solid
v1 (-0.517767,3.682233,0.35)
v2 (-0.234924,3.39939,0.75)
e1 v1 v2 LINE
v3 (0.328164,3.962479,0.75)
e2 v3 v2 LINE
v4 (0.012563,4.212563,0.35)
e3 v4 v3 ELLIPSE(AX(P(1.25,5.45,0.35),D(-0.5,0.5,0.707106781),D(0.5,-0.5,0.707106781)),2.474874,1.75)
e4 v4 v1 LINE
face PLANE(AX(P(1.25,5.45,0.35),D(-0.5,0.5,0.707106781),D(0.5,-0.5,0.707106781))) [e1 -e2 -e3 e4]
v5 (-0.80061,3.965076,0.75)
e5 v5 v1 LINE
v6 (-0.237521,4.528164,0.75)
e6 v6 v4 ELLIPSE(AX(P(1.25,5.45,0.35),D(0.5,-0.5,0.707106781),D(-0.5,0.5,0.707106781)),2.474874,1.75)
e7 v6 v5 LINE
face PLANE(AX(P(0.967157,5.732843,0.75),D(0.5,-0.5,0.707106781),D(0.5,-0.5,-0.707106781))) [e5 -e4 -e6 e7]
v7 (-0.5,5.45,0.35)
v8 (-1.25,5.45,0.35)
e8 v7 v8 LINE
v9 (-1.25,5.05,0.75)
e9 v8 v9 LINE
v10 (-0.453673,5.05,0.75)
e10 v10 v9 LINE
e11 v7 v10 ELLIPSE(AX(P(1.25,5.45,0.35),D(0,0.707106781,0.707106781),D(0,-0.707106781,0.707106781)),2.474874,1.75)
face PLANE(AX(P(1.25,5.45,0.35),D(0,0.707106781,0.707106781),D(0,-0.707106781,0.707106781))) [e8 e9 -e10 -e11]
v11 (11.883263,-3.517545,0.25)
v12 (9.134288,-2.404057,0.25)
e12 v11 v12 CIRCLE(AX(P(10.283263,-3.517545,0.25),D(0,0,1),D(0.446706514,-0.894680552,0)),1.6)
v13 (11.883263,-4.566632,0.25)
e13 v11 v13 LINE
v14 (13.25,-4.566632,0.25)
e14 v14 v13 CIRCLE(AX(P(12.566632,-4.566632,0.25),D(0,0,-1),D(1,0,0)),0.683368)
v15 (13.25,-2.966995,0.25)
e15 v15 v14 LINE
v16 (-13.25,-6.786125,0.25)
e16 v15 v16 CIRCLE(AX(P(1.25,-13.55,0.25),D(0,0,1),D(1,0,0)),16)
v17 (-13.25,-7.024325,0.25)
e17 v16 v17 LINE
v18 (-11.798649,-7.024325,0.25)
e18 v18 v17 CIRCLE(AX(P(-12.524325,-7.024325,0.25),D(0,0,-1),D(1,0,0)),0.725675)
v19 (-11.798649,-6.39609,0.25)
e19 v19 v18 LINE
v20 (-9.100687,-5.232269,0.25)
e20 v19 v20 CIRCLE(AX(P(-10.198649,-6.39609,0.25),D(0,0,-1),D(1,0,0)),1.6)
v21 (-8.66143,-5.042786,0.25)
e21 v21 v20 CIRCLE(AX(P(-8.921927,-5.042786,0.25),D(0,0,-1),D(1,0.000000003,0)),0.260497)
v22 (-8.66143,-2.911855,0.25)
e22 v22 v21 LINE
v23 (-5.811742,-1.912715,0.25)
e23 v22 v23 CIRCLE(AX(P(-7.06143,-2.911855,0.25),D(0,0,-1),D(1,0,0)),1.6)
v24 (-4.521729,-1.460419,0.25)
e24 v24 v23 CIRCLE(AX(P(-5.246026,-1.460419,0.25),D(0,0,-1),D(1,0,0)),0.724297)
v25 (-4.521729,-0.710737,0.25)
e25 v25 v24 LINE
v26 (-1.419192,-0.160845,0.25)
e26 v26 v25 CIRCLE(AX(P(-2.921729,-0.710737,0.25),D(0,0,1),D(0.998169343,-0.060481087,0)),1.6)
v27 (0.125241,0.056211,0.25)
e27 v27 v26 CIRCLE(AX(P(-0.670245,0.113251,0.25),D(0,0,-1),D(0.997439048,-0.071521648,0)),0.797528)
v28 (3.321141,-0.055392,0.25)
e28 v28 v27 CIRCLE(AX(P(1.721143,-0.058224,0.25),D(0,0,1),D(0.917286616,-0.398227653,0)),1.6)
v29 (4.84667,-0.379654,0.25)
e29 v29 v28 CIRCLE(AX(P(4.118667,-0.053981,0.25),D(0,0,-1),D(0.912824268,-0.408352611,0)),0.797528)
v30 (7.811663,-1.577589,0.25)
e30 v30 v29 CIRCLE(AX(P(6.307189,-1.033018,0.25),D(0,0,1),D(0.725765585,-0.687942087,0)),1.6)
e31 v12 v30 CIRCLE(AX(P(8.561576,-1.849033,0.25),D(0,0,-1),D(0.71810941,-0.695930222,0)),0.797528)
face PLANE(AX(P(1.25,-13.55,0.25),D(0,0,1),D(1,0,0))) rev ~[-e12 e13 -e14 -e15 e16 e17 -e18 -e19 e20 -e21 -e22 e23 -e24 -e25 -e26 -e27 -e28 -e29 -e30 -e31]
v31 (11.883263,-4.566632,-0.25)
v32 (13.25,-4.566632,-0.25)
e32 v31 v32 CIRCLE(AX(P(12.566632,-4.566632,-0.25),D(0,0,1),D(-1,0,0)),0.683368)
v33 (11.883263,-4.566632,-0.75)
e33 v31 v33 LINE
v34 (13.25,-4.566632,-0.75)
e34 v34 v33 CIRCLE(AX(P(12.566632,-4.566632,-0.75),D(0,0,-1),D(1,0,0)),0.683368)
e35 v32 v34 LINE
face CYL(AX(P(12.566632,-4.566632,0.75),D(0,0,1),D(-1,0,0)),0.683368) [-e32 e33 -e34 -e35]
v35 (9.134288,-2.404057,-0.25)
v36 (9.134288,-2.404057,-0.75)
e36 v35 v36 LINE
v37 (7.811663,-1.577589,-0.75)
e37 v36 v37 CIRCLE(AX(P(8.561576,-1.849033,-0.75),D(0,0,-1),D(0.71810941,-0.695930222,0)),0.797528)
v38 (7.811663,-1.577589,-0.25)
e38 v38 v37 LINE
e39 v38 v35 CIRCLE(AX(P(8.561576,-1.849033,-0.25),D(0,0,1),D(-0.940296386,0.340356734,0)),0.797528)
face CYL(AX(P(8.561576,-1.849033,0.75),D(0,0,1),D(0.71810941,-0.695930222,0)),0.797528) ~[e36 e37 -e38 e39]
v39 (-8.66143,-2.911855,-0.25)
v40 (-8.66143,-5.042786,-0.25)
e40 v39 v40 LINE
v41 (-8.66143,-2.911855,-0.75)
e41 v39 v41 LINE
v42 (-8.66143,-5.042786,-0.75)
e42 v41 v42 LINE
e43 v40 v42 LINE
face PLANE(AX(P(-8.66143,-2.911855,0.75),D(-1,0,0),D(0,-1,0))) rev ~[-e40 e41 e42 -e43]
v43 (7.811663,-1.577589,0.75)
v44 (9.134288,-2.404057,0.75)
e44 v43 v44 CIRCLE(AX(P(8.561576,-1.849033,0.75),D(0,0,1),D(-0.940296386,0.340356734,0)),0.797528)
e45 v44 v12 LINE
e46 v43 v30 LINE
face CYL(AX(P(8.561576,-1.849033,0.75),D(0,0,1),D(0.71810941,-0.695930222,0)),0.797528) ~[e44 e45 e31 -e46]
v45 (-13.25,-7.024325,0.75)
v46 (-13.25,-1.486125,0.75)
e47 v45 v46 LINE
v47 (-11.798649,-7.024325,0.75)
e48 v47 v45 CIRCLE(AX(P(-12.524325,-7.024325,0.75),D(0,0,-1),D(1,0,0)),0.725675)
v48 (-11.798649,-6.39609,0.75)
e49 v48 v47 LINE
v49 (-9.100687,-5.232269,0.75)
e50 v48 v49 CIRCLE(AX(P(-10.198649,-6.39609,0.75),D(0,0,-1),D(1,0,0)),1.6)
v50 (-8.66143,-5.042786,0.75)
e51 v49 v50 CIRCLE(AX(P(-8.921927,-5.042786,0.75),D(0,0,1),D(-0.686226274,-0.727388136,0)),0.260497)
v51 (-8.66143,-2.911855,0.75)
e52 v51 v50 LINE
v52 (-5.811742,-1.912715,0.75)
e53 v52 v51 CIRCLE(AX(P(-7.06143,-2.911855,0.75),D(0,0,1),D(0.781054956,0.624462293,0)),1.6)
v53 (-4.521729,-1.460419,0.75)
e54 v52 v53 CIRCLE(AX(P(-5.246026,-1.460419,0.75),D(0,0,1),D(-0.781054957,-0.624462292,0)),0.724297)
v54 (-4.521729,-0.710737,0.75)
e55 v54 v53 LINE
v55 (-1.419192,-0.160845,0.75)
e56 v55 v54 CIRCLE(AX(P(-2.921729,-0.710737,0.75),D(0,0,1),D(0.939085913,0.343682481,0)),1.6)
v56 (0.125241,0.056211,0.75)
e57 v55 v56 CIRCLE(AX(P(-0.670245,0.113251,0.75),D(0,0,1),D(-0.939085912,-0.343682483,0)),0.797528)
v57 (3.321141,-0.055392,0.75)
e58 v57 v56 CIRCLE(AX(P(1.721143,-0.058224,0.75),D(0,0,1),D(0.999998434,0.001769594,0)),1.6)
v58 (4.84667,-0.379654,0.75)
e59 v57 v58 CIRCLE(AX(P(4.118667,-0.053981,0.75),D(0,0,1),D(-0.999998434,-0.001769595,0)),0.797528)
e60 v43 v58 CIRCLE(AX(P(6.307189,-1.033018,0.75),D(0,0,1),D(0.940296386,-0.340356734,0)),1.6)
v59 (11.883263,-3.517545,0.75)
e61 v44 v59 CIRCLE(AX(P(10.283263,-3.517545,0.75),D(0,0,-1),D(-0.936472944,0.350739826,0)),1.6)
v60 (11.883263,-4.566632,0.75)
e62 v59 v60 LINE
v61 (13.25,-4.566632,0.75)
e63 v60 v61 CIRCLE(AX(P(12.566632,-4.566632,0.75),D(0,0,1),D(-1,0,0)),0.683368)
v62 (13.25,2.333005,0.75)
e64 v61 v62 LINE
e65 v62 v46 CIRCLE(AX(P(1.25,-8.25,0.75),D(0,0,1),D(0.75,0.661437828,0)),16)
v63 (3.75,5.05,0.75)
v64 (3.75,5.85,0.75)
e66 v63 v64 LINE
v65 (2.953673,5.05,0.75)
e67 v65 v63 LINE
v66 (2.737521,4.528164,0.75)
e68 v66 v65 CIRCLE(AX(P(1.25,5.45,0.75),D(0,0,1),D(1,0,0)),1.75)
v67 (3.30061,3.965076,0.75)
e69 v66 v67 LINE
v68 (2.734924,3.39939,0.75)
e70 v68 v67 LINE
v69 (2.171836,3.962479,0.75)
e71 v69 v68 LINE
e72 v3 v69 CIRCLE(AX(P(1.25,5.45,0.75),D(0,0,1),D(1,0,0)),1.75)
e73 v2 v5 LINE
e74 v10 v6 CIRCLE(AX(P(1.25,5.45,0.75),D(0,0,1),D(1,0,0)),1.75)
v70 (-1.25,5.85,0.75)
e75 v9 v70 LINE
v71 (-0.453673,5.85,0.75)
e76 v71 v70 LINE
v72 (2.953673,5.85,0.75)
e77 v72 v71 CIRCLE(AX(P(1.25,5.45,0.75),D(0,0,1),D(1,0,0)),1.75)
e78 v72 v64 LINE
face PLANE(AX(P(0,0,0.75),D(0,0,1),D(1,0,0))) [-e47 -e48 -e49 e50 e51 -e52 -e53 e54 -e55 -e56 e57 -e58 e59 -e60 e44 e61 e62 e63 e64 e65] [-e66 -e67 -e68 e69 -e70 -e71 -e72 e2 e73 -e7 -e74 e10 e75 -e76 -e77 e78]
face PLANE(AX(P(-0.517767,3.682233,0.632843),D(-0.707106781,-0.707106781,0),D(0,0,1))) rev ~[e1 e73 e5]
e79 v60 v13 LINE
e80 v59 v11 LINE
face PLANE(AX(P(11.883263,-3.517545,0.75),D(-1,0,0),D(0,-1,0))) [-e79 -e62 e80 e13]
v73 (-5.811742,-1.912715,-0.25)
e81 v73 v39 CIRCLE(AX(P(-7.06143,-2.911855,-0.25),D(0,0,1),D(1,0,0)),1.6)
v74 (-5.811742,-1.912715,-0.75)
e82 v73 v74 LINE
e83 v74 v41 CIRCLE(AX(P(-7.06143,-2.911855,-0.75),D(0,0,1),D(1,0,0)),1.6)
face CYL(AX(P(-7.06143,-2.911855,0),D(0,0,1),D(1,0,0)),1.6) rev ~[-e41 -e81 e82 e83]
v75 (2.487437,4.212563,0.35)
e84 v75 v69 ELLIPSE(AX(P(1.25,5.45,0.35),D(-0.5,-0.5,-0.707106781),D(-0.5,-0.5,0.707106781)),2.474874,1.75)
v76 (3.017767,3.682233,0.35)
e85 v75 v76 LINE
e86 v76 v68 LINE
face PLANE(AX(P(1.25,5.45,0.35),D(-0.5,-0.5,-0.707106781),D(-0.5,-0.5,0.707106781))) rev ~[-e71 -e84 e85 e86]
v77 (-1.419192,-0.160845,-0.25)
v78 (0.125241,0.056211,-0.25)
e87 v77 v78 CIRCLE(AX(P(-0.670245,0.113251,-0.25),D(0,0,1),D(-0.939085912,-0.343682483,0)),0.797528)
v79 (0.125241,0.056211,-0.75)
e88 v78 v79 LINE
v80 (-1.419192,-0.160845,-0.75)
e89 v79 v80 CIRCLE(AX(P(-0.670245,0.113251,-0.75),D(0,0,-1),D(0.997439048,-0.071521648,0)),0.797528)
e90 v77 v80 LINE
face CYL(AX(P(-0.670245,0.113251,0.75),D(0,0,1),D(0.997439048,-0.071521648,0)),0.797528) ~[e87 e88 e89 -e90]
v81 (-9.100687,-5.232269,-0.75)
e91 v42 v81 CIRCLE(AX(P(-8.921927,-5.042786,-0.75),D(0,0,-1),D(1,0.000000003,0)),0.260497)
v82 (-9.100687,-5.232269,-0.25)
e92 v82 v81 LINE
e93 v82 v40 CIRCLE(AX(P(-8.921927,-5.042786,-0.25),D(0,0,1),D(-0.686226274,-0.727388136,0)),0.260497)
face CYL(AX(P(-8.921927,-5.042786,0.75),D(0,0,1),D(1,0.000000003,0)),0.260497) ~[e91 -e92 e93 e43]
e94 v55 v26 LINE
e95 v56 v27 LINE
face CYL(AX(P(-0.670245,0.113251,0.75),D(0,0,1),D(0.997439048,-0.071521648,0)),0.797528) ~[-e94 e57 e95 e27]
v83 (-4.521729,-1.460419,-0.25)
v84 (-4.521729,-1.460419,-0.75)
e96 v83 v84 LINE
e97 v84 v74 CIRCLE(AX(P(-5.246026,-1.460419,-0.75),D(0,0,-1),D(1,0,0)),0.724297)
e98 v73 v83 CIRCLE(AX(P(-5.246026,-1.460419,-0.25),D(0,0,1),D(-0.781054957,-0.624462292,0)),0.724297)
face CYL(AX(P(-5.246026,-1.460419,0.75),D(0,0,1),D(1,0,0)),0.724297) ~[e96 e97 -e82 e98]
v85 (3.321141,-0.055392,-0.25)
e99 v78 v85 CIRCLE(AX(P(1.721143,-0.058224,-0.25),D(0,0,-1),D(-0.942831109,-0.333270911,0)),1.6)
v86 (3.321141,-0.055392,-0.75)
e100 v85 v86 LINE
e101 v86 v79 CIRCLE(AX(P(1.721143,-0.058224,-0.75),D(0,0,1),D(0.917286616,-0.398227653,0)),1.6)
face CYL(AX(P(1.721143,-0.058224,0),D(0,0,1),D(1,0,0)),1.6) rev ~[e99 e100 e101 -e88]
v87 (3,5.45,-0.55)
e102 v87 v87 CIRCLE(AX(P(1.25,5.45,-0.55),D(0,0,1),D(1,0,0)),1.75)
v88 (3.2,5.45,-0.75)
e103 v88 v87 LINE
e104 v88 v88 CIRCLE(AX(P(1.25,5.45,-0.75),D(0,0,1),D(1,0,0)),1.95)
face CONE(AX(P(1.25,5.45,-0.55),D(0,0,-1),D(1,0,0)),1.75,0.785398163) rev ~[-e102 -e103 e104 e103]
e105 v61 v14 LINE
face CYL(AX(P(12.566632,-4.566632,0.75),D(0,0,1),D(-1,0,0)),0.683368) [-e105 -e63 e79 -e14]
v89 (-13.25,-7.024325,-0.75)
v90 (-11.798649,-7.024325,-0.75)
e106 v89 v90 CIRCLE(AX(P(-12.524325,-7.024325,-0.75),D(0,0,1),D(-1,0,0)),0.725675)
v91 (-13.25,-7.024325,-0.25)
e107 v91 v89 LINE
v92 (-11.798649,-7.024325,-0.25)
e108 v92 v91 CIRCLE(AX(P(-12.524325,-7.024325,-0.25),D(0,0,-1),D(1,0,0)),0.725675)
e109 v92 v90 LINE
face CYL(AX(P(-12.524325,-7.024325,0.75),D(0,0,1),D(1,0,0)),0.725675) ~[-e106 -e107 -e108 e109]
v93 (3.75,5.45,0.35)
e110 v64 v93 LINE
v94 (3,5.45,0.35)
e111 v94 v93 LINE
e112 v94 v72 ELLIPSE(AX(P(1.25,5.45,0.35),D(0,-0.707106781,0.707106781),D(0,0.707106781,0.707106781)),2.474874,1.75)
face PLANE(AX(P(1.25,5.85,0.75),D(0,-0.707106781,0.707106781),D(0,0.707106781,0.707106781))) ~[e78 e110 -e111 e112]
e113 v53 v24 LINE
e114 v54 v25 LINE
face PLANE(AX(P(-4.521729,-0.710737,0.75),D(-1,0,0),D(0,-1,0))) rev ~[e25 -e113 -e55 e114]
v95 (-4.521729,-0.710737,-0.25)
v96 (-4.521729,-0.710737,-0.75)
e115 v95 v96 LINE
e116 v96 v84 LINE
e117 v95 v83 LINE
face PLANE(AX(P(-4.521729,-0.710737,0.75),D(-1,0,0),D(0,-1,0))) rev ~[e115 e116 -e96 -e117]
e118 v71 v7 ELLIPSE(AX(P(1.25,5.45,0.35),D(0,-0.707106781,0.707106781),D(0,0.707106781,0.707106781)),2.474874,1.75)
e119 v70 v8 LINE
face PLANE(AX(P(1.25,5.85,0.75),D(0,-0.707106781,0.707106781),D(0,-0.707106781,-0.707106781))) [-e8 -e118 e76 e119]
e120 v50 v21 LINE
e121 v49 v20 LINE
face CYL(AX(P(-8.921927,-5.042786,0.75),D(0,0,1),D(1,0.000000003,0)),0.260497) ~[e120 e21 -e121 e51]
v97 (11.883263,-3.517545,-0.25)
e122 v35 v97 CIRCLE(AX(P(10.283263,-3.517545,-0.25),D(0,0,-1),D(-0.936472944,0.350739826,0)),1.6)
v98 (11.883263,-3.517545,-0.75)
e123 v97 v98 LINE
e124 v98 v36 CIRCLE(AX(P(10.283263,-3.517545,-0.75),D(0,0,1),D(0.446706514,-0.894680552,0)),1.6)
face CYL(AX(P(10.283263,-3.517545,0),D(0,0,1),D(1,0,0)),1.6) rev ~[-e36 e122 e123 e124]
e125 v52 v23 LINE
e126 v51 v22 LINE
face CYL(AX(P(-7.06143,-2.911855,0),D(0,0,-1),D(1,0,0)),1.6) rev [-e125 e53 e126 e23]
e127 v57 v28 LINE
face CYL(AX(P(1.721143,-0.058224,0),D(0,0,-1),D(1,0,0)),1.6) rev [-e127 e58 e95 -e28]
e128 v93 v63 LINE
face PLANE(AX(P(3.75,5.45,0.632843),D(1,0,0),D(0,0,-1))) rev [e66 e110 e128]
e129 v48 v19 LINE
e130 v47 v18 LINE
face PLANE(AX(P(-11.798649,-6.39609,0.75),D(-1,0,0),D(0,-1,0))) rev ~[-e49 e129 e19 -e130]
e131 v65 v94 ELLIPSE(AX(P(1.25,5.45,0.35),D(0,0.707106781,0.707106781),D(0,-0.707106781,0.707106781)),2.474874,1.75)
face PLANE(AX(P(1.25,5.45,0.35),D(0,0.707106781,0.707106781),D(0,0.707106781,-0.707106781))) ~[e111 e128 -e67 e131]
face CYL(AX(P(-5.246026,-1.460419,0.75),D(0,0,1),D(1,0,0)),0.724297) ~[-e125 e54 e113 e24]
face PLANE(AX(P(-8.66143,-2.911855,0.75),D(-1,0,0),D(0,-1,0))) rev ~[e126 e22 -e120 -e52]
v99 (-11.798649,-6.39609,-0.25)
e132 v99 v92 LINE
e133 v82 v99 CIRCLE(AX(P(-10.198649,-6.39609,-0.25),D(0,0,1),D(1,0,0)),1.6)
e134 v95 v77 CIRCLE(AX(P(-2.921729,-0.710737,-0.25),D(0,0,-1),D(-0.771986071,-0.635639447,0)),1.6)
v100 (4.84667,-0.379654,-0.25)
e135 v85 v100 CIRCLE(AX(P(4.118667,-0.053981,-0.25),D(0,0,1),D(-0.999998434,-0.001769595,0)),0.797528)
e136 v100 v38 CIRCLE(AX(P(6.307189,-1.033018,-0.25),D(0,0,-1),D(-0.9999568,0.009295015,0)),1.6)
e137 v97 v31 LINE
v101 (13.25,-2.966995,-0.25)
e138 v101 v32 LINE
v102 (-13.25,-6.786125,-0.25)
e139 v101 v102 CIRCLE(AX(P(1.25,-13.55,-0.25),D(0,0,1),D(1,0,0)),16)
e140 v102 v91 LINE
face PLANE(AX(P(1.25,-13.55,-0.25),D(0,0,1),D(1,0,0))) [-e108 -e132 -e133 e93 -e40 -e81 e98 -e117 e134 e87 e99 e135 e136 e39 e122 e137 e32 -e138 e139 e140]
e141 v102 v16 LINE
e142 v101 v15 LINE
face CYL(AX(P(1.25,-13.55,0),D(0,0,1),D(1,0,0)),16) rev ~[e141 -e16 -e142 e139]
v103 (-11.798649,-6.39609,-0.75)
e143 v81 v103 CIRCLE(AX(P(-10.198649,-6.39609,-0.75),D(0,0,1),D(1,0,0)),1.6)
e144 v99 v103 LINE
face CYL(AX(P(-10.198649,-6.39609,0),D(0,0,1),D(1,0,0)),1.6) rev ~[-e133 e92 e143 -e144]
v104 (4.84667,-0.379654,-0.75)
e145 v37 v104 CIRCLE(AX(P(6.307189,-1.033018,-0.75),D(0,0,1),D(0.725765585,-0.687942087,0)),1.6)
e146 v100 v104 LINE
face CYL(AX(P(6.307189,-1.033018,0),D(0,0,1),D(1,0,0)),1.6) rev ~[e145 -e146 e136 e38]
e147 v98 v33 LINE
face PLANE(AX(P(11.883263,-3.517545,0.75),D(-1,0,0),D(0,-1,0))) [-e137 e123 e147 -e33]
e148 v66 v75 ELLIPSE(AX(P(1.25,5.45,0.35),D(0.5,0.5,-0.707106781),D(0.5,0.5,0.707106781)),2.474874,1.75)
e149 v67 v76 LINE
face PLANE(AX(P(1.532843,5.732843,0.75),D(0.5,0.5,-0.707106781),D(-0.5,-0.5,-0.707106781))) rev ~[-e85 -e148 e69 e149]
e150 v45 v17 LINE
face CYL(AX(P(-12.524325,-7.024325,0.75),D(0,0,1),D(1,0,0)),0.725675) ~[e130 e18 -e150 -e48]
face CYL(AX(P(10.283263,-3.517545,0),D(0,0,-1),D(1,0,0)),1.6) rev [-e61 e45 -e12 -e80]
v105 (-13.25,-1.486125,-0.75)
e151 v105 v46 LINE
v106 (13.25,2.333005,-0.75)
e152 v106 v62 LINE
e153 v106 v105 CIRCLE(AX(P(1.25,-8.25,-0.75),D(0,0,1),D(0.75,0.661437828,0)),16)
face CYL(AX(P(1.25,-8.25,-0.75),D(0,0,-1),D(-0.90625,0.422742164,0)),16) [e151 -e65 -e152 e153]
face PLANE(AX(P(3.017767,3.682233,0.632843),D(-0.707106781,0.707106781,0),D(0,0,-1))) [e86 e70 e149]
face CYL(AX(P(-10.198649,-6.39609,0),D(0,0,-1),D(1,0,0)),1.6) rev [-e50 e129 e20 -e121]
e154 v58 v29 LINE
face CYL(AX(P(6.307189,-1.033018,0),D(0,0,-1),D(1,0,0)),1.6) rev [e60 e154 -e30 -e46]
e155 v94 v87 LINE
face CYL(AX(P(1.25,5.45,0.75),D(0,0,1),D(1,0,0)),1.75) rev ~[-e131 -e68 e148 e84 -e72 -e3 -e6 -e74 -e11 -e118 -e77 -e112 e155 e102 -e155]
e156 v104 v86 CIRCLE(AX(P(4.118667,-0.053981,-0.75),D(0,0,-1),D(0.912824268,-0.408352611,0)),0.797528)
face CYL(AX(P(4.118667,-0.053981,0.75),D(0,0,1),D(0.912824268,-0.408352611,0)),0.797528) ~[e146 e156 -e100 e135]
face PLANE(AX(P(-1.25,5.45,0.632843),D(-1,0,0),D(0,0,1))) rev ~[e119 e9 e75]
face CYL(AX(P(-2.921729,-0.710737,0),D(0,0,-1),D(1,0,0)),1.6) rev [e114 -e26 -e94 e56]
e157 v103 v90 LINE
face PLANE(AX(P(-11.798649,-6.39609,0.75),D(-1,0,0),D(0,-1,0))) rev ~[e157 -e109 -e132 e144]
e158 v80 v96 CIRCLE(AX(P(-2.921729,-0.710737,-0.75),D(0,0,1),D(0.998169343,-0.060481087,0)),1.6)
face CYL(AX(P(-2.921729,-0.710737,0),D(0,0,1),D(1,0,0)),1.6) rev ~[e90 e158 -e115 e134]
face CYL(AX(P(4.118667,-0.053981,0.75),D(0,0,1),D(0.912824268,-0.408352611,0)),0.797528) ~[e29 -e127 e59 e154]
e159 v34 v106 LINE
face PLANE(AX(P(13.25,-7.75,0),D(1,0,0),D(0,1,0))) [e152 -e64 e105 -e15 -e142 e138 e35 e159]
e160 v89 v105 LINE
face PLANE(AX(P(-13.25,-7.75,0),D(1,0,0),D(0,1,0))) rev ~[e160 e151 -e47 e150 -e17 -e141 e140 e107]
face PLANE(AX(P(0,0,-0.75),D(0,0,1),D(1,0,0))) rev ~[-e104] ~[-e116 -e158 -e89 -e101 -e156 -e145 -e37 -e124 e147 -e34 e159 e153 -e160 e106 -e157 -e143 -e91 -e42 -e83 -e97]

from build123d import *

# Parameters (mm, degrees)
SKETCH1_W               = 26.5
SKETCH1_H               = 15.5
BOSS_EXTRUDE1_DEPTH     = 0.75
CUT_EXTRUDE1_START      = -1.5
CUT_EXTRUDE1_DEPTH      = 1.5
SKETCH3_R               = 16
CUT_EXTRUDE2_DEPTH      = 0.25
SKETCH5_R               = 13
CUT_EXTRUDE3_DEPTH      = 2.5
CUT_EXTRUDE9_DEPTH      = 2.5
SKETCH8_R               = 1.75
CUT_EXTRUDE6_DEPTH      = 2.5
SKETCH4_R               = 1.6
CUT_EXTRUDE7_DEPTH      = 1.75
CUT_EXTRUDE7_DEPTH_BACK = 1.75
CUT_EXTRUDE8_DEPTH      = 2.5
CUT_EXTRUDE10_DEPTH     = 2.5
CUT_EXTRUDE11_DEPTH     = 2.5
CHAMFER1_SIZE           = 0.2
CUT_EXTRUDE12_DEPTH     = 2.5
CIRPATTERN1_COUNT       = 2
CIRPATTERN1_ANGLE       = 45
MIRROR1_COPY_1_DEPTH    = 2.5


with BuildPart() as part:
    # Sketch1 → Boss-Extrude1 (new body, symmetric)
    with BuildSketch(Plane.XY):
        Rectangle(SKETCH1_W, SKETCH1_H)
    extrude(amount=BOSS_EXTRUDE1_DEPTH, both=True)

    # Sketch2 → Cut-Extrude1 (cut)
    with BuildSketch(Plane.XY.offset(0.75).offset(CUT_EXTRUDE1_START)):
        with BuildLine():
            Line((-13.25, 9.75), (-13.25, -1.486125371))
            ThreePointArc((-13.25, -1.486125371), (-1.032310159, 7.586384068), (13.25, 2.333005244))
            Line((13.25, 2.333005244), (13.25, 9.75))
            Line((13.25, 9.75), (-13.25, 9.75))
        make_face()
    extrude(amount=CUT_EXTRUDE1_DEPTH, mode=Mode.SUBTRACT)

    # Sketch3 → Cut-Extrude2 (cut, symmetric)
    with BuildSketch(Plane.XY):
        with Locations((1.25, -13.55)):
            Circle(SKETCH3_R)
    extrude(amount=CUT_EXTRUDE2_DEPTH, both=True, mode=Mode.SUBTRACT)

    # Sketch5 → Cut-Extrude3 (cut, through all)
    with BuildSketch(Plane.XY.offset(0.75)):
        with Locations((1.25, -13.55)):
            Circle(SKETCH5_R)
    extrude(amount=-CUT_EXTRUDE3_DEPTH, mode=Mode.SUBTRACT)

    # Sketch11 → Cut-Extrude9 (cut, through all)
    with BuildSketch(Plane.XY.offset(0.75)):
        with BuildLine():
            Line((11.255498488, -5.25), (13.25, -5.25))
            Line((13.25, -5.25), (13.25, -7.75))
            Line((13.25, -7.75), (12.884431658, -7.75))
            ThreePointArc((12.884431658, -7.75), (12.141930232, -6.453109426), (11.255498488, -5.25))
        make_face()
    extrude(amount=-CUT_EXTRUDE9_DEPTH, mode=Mode.SUBTRACT)

    # Sketch8 → Cut-Extrude6 (cut, through all)
    with BuildSketch(Plane.XY.offset(0.75)):
        with Locations((1.25, 5.45)):
            Circle(SKETCH8_R)
    extrude(amount=-CUT_EXTRUDE6_DEPTH, mode=Mode.SUBTRACT)

    # Sketch4 → Cut-Extrude7 (cut, two sides)
    with BuildSketch(Plane.XY) as cut_extrude7_sk:
        with Locations((1.721143205, -0.058223835)):
            Circle(SKETCH4_R)
        with Locations((6.307189011, -1.033017963)):
            Circle(SKETCH4_R)
        with Locations((10.283263186, -3.517544856)):
            Circle(SKETCH4_R)
        with Locations((-2.921729424, -0.71073703)):
            Circle(SKETCH4_R)
        with Locations((-7.061429917, -2.911854826)):
            Circle(SKETCH4_R)
        with Locations((-10.198649298, -6.396089933)):
            Circle(SKETCH4_R)
    extrude(amount=CUT_EXTRUDE7_DEPTH, mode=Mode.SUBTRACT)
    extrude(cut_extrude7_sk.sketch, amount=-CUT_EXTRUDE7_DEPTH_BACK, mode=Mode.SUBTRACT)

    # Sketch9 → Cut-Extrude8 (cut, through all)
    with BuildSketch(Plane.XY.offset(0.75)):
        with BuildLine():
            Line((-11.798649298, -6.396089933), (-11.798649298, -7.024324649))
            ThreePointArc((-11.798649298, -7.024324649), (-12.524324649, -7.75), (-13.25, -7.024324649))
            Line((-13.25, -7.024324649), (-13.25, -8.25))
            Line((-13.25, -8.25), (-11.05124975, -8.25))
            Line((-11.05124975, -8.25), (-11.05124975, -7.75))
            ThreePointArc((-11.05124975, -7.75), (-11.599392087, -7.169342569), (-11.798649298, -6.396089933))
        make_face()
    extrude(amount=-CUT_EXTRUDE8_DEPTH, mode=Mode.SUBTRACT)

    # Sketch12 → Cut-Extrude10 (cut, through all)
    with BuildSketch(Plane.XY.offset(0.75)):
        with BuildLine():
            Line((11.883263186, -3.517544856), (11.883263186, -4.566631593))
            ThreePointArc((11.883263186, -4.566631593), (12.566631593, -5.25), (13.25, -4.566631593))
            Line((13.25, -4.566631593), (13.25, -5.75))
            Line((13.25, -5.75), (11.255498488, -5.75))
            Line((11.255498488, -5.75), (11.255498488, -5.25))
            ThreePointArc((11.255498488, -5.25), (11.12789237, -5.098536084), (10.997993608, -4.949033739))
            ThreePointArc((10.997993608, -4.949033739), (11.644066014, -4.359100358), (11.883263186, -3.517544856))
        make_face()
    extrude(amount=-CUT_EXTRUDE10_DEPTH, mode=Mode.SUBTRACT)

    # Sketch13 → Cut-Extrude11 (cut, through all)
    with BuildSketch(Plane.XY.offset(0.75)):
        with BuildLine():
            Line((-8.661429917, -2.911854826), (-8.661429917, -5.042786286))
            ThreePointArc((-8.661429917, -5.042786286), (-8.818746964, -5.281977988), (-9.100687262, -5.232268912))
            ThreePointArc((-9.100687262, -5.232268912), (-8.836495341, -5.556723149), (-8.665455555, -5.938578244))
            ThreePointArc((-8.665455555, -5.938578244), (1.881828141, -1.065978484), (11.883263186, -6.978568343))
            Line((11.883263186, -6.978568343), (11.883263186, -3.517544856))
            ThreePointArc((11.883263186, -3.517544856), (10.883946092, -2.034581591), (9.134288128, -2.404056501))
            ThreePointArc((9.134288128, -2.404056501), (8.138950435, -2.52537475), (7.811663229, -1.577588737))
            ThreePointArc((7.811663229, -1.577588737), (6.906559561, 0.450476204), (4.846670181, -0.379653786))
            ThreePointArc((4.846670181, -0.379653786), (3.952851981, -0.83408119), (3.3211407, -0.055392485))
            ThreePointArc((3.3211407, -0.055392485), (1.7769824, 1.540801488), (0.125240729, 0.056210801))
            ThreePointArc((0.125240729, 0.056210801), (-0.559250312, -0.676515106), (-1.419191964, -0.160845059))
            ThreePointArc((-1.419191964, -0.160845059), (-3.200960568, 0.864708929), (-4.521729424, -0.71073703))
            Line((-4.521729424, -0.71073703), (-4.521729424, -1.460419063))
            ThreePointArc((-4.521729424, -1.460419063), (-5.006380866, -2.143921837), (-5.811741986, -1.912715158))
            ThreePointArc((-5.811741986, -1.912715158), (-7.590816029, -1.401970611), (-8.661429917, -2.911854826))
        make_face()
    extrude(amount=-CUT_EXTRUDE11_DEPTH, mode=Mode.SUBTRACT)

    # Chamfer1
    chamfer1_edges = [part.edges().sort_by_distance(p)[0] for p in [
        (-0.5, 5.45, -0.75),
    ]]
    chamfer(chamfer1_edges, length=CHAMFER1_SIZE)

    # Sketch14 → Cut-Extrude12 (cut)
    with BuildSketch(Plane.ZY.offset(-1.25)):
        Polygon((0.75, 5.85), (0.35, 5.45), (0.75, 5.05), align=None)
    cut_extrude12 = extrude(amount=CUT_EXTRUDE12_DEPTH, mode=Mode.SUBTRACT)

    # CirPattern1: Cut-Extrude12 ×2 about axis
    cirpattern1_axis = Axis((1.25, 5.45, 0), (0, 0, 1))
    for i in range(1, CIRPATTERN1_COUNT):
        add(cut_extrude12.rotate(cirpattern1_axis, i * CIRPATTERN1_ANGLE / (CIRPATTERN1_COUNT - 1)), mode=Mode.SUBTRACT)

    # Mirror1: Cut-Extrude12 across plane
    add(cut_extrude12.mirror(Plane.ZY.offset(-1.25)), mode=Mode.SUBTRACT)

    # Mirror1 copy 1 sketch → Mirror1 copy 1 (cut)
    with BuildSketch(Plane(origin=(-2.603731957, 1.596268043, 0), x_dir=(0, 0, 1), z_dir=(0.707106781, -0.707106781, 0))):
        Polygon((0.75, -5.85), (0.35, -5.45), (0.75, -5.05), align=None)
    extrude(amount=MIRROR1_COPY_1_DEPTH, mode=Mode.SUBTRACT)


solid = part.part
